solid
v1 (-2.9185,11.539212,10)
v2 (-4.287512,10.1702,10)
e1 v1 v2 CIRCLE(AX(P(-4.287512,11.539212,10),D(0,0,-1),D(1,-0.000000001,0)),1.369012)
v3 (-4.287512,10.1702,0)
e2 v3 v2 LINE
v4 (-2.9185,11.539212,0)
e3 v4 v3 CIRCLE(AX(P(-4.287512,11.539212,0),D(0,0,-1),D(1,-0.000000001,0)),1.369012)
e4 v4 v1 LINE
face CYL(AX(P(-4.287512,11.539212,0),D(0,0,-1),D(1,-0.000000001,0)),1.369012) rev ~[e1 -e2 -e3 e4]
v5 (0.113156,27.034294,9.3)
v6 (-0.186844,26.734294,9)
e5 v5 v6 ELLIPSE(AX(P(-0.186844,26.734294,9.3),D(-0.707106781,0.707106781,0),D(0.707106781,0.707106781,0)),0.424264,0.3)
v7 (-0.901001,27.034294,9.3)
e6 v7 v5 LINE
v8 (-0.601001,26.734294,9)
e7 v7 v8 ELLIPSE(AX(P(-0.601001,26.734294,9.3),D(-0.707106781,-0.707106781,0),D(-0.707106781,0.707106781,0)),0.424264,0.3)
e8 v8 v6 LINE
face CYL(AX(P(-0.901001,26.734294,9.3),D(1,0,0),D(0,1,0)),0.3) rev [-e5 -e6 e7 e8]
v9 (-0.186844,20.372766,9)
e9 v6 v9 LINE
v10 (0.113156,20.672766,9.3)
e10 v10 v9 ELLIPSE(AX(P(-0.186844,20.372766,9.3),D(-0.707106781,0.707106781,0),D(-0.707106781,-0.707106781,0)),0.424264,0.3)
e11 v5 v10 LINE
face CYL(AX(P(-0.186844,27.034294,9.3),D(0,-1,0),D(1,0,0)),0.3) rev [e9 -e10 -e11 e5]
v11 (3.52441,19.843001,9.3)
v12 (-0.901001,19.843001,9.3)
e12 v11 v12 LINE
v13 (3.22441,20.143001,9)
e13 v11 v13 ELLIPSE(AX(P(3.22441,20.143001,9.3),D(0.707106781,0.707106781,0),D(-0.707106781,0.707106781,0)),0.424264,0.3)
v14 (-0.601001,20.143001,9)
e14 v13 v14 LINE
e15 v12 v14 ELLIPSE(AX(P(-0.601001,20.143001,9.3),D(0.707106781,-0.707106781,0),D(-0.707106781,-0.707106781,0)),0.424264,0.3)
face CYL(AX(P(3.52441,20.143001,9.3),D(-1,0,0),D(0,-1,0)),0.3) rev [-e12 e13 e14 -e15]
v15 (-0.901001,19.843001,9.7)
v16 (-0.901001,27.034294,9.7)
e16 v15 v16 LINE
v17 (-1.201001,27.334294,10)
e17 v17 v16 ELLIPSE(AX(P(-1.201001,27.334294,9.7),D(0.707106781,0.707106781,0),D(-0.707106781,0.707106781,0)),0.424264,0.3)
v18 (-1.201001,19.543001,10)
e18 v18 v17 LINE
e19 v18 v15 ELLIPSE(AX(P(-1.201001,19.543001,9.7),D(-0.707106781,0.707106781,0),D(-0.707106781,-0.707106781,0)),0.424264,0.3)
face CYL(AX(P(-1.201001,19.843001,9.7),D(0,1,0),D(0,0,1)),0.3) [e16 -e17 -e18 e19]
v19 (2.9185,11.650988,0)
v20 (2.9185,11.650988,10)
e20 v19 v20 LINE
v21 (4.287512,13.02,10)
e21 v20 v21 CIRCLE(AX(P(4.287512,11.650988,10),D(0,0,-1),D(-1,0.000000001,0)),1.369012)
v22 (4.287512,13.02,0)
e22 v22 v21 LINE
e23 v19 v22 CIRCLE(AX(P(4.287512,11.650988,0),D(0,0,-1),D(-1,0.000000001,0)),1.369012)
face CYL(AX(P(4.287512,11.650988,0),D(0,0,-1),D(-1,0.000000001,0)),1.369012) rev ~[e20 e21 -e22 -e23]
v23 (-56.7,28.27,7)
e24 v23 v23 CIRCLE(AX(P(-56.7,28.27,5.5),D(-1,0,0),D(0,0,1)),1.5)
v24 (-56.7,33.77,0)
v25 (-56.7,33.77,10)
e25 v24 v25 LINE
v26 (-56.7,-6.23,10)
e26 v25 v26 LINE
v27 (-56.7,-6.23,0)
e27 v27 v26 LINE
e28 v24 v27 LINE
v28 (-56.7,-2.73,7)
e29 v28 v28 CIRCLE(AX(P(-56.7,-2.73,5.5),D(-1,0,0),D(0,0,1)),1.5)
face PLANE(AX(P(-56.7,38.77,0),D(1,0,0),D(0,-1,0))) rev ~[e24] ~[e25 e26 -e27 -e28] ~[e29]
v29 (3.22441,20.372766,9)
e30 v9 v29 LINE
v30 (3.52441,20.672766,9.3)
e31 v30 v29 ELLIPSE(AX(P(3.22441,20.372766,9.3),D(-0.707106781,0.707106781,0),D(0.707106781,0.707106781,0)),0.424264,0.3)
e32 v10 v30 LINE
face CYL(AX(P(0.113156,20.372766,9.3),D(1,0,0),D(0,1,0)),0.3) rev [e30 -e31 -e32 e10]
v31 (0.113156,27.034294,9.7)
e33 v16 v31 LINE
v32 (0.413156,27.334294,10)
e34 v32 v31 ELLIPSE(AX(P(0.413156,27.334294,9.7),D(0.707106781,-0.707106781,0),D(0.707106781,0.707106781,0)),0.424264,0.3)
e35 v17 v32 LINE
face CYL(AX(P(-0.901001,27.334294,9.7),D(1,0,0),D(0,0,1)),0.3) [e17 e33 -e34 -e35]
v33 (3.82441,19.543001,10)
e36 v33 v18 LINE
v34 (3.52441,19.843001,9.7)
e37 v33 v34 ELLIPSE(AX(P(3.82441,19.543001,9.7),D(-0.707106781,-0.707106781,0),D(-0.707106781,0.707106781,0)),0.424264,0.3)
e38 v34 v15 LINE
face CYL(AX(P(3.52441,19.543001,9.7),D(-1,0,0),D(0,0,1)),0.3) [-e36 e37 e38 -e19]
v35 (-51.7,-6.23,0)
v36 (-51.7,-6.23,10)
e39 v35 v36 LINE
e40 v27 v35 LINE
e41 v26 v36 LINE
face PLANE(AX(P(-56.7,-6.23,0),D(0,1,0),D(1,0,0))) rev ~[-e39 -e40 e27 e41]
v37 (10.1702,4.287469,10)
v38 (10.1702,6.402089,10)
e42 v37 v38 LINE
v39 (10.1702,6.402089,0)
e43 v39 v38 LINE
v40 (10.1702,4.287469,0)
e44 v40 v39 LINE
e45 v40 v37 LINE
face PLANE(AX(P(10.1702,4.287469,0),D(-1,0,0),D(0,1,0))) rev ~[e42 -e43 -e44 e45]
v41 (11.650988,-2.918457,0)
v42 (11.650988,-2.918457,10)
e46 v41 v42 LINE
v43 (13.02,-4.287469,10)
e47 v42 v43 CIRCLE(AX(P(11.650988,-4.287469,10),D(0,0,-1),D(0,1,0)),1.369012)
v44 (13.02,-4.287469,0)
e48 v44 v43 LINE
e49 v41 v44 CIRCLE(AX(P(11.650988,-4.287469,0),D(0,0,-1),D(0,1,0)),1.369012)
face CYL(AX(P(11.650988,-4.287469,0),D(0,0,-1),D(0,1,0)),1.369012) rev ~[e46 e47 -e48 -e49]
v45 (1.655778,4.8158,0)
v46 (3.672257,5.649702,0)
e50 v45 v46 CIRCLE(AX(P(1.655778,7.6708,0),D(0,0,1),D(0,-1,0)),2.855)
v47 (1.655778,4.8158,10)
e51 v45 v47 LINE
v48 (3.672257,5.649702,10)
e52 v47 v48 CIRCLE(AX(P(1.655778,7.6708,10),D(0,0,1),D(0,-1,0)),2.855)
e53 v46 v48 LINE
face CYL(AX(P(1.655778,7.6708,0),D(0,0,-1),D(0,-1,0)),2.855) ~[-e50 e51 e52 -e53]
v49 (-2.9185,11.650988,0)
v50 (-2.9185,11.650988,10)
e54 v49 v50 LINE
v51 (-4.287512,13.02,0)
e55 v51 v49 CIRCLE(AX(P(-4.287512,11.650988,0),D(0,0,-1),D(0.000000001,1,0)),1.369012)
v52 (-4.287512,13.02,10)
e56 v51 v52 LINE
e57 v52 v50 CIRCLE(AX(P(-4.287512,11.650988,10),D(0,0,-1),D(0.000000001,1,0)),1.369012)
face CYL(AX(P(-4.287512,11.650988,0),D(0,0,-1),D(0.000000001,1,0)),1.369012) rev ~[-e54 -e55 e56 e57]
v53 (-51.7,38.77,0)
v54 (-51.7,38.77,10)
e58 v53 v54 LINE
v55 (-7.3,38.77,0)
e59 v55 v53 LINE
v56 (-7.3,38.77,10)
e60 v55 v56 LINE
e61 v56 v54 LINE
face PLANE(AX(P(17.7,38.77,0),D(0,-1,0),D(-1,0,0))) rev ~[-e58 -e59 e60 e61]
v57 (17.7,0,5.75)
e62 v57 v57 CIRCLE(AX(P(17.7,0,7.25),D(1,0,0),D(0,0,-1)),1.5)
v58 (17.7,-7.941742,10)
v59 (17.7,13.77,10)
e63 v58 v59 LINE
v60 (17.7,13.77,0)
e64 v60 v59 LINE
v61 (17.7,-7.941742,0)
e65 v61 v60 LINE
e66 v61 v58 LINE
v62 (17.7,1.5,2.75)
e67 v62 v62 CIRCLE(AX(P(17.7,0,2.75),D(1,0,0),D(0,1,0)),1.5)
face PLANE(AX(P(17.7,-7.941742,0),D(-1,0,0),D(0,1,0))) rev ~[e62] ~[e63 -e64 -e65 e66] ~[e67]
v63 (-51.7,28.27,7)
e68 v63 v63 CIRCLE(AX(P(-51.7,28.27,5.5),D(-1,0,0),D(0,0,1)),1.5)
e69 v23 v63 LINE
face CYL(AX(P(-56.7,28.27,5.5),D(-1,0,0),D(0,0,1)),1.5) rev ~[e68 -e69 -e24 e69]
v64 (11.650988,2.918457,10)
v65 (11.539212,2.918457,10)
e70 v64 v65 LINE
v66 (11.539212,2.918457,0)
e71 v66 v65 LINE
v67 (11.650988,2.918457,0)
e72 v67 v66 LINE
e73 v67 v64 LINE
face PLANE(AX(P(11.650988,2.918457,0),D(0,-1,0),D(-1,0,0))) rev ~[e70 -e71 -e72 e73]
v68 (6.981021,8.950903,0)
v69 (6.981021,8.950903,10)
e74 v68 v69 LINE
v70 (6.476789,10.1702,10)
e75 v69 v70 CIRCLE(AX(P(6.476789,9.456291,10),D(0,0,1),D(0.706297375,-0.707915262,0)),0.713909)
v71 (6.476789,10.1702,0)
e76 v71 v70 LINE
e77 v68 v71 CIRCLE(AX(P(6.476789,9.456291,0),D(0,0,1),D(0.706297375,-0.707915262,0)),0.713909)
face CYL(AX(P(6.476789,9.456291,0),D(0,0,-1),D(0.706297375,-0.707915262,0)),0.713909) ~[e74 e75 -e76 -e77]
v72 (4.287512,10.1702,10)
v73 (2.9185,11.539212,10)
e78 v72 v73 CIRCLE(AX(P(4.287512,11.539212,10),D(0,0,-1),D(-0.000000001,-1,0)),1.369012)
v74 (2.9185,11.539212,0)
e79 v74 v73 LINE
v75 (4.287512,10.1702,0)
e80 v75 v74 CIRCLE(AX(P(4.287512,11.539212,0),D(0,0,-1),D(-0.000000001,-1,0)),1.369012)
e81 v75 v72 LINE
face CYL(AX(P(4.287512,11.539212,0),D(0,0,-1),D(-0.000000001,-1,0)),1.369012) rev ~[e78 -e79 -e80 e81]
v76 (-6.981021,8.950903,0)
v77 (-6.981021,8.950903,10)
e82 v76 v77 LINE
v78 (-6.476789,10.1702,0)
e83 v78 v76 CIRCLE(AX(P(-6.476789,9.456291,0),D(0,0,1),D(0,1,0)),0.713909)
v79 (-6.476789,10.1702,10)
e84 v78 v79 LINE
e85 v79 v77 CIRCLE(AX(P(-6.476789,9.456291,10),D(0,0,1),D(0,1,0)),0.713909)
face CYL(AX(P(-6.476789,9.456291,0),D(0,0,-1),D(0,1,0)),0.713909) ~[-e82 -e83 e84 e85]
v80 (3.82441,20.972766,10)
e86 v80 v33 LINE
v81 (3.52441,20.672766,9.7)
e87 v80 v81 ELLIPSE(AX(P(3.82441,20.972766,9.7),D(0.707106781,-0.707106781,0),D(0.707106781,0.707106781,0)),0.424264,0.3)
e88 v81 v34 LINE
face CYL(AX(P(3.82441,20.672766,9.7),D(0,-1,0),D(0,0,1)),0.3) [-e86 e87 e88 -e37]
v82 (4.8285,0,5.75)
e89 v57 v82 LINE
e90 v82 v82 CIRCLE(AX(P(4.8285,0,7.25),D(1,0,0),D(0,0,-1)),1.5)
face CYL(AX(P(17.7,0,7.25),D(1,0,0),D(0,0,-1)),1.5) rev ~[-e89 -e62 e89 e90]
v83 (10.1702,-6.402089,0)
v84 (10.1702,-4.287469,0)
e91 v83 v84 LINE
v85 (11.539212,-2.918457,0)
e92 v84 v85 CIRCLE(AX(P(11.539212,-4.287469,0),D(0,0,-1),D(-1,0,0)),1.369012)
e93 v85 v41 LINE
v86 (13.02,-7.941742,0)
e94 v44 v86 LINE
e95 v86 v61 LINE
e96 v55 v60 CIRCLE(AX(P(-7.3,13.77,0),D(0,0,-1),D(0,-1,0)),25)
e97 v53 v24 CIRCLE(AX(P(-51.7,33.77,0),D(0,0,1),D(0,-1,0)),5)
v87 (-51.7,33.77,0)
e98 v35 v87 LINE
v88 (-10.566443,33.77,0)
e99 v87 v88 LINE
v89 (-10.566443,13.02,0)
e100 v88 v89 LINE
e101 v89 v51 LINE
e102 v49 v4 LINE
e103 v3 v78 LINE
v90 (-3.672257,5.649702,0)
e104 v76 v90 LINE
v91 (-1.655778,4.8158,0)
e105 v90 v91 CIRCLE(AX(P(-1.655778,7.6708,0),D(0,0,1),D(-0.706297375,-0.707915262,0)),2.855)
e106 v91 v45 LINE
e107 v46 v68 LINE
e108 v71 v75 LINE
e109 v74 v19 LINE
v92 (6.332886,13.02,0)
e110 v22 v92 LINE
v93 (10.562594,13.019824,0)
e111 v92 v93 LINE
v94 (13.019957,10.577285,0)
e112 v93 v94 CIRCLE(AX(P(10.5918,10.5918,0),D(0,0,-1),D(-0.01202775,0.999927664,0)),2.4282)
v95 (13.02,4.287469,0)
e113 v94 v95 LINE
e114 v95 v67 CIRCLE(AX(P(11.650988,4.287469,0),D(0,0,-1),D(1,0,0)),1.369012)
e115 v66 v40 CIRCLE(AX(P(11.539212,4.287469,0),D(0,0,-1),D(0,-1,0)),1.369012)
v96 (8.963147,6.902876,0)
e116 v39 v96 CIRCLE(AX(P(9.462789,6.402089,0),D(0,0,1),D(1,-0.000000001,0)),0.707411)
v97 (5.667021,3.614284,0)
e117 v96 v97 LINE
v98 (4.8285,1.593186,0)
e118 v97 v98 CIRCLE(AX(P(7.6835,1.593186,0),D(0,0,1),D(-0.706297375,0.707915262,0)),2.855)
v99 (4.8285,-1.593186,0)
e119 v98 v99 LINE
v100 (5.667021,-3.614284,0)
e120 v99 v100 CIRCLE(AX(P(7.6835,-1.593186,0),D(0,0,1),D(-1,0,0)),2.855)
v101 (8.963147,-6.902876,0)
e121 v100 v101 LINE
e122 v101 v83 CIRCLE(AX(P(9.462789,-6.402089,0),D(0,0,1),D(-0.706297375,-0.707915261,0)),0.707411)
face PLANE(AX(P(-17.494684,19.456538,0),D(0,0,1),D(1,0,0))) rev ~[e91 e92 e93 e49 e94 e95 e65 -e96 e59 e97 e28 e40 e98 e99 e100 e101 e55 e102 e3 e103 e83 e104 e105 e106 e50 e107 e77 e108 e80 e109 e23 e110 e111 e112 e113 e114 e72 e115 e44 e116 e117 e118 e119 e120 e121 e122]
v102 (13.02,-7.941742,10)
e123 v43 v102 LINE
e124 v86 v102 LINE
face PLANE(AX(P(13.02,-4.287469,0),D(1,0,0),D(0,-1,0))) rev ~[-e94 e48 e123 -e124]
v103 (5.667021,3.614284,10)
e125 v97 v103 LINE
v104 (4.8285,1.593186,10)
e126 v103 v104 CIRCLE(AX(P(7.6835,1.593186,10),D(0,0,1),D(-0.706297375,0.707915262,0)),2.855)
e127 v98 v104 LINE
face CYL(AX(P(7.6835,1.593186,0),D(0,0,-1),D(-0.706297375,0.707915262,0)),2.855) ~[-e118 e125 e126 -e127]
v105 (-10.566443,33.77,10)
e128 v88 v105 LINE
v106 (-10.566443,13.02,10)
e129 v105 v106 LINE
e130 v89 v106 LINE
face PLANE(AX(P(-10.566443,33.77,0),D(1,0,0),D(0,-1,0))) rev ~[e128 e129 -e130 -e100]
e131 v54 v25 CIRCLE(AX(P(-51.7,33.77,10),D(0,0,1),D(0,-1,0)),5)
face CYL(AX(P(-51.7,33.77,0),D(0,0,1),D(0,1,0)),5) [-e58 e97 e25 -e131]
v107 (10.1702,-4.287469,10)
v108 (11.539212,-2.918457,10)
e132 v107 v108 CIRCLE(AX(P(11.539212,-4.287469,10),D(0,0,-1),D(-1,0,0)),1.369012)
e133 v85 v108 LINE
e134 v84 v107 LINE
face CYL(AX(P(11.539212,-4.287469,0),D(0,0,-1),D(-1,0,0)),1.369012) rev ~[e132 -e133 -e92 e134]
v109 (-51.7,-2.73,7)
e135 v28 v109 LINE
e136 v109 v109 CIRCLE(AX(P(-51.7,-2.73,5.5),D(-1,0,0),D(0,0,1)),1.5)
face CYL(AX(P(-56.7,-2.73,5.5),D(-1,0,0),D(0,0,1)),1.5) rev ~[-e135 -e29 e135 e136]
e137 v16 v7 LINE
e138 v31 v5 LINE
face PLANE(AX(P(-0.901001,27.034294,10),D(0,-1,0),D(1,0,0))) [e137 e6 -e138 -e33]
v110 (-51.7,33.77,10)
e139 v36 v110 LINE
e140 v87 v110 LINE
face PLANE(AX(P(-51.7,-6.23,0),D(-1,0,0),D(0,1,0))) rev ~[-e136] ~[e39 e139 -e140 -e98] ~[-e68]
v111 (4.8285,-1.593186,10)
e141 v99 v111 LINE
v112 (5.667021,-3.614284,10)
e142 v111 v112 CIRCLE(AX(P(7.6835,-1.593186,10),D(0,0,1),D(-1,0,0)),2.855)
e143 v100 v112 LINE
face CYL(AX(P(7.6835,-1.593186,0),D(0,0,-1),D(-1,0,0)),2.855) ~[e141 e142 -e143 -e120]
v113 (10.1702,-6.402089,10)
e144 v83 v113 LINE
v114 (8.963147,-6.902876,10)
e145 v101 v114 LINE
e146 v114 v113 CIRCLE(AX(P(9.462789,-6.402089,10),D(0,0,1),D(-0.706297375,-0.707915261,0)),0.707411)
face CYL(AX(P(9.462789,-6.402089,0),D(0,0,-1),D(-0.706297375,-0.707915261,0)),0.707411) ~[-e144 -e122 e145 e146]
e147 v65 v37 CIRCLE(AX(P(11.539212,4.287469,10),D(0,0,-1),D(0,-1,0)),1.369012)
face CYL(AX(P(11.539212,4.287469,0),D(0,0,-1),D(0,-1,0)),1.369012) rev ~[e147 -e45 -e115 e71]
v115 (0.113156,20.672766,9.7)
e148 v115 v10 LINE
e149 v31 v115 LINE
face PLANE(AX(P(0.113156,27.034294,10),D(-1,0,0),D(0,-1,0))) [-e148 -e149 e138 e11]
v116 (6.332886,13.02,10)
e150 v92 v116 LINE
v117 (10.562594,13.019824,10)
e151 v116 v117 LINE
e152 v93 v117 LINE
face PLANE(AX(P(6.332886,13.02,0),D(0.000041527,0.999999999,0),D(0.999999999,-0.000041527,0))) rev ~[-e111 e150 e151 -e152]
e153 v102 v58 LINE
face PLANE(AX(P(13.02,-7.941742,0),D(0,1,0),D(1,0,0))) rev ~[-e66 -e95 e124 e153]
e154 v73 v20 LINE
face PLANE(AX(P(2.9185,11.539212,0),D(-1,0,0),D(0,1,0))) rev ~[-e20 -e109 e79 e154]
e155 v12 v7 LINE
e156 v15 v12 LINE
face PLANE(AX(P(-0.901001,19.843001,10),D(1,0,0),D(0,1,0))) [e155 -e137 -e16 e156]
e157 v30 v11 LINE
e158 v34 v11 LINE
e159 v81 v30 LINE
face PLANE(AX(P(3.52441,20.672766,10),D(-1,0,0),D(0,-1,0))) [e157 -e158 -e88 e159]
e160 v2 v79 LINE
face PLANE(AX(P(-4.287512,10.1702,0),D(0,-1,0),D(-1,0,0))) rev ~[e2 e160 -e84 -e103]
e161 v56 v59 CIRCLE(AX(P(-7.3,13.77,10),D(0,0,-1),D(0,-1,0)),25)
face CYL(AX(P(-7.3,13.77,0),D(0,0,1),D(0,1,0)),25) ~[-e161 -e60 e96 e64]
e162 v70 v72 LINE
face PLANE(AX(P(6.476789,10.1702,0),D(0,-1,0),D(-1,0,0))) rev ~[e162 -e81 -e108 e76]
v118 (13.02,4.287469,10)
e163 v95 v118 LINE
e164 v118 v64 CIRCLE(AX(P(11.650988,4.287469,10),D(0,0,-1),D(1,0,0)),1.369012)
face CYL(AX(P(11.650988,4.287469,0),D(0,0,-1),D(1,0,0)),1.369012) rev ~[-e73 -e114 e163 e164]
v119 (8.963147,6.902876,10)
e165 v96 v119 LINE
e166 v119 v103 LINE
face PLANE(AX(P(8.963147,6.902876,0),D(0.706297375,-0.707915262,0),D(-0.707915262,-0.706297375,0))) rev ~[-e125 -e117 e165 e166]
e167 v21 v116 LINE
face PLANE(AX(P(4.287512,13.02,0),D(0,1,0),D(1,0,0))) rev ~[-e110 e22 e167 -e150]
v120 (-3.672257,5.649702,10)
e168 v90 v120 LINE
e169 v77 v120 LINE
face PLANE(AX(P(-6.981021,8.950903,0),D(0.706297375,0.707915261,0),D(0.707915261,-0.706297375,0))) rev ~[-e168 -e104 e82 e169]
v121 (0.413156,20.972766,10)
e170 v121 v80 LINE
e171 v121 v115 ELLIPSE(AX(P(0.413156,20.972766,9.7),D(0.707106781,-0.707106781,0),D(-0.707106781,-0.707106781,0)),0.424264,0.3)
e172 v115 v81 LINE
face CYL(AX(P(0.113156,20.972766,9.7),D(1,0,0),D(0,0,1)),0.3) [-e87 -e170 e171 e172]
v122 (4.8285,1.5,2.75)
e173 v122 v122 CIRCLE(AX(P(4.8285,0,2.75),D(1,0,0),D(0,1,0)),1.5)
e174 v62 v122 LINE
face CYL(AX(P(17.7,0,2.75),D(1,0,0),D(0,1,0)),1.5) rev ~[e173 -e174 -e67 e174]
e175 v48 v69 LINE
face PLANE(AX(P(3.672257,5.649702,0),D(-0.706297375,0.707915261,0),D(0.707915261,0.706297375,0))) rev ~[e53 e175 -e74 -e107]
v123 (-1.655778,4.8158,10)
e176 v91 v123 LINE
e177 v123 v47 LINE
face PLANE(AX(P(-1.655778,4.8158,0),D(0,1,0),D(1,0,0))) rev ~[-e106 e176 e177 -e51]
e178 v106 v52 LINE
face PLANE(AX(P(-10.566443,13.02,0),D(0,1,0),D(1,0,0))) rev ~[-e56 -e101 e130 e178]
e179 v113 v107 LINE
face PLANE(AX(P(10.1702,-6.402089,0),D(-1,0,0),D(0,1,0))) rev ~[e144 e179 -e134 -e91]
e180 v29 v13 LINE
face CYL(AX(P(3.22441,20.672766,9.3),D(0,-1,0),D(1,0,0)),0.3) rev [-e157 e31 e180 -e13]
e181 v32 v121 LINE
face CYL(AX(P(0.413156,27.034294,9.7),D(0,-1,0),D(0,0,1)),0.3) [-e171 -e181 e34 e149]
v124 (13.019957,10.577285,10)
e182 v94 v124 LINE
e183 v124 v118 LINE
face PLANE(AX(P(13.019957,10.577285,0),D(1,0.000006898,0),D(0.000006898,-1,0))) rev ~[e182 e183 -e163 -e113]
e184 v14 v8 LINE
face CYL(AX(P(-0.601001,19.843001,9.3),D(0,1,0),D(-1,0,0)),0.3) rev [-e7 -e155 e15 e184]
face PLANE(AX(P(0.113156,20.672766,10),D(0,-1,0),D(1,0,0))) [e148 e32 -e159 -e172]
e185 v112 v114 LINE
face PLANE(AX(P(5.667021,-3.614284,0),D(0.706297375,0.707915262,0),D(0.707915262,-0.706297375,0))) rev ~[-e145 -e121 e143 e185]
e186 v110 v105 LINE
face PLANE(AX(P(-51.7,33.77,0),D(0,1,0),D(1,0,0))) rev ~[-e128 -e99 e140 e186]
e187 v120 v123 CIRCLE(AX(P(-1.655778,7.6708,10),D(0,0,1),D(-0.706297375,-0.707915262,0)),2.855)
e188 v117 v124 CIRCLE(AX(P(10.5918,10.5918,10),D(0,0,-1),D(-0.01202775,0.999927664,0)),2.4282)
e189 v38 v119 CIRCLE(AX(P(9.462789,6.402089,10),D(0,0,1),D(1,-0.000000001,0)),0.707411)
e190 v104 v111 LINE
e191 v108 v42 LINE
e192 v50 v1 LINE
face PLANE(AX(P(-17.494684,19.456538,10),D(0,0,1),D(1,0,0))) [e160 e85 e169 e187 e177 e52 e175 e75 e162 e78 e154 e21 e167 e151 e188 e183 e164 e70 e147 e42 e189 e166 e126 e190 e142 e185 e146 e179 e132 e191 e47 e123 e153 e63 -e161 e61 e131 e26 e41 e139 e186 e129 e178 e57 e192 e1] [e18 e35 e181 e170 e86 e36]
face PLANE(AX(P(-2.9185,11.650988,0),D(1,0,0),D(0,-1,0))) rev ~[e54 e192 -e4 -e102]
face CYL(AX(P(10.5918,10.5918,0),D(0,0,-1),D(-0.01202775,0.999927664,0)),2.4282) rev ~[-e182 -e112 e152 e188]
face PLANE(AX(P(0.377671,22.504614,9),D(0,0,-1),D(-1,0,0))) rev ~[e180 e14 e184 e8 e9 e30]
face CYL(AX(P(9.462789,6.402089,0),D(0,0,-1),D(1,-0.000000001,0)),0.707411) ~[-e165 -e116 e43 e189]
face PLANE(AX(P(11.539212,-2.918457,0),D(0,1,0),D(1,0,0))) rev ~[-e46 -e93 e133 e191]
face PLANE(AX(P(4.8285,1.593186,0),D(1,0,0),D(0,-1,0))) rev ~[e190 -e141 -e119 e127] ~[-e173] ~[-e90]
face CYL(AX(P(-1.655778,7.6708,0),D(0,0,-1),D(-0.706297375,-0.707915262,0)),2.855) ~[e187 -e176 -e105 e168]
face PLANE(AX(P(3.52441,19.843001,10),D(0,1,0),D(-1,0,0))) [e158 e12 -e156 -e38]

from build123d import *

# Parameters (mm, degrees)
BOSS_EXTRUDE1_DEPTH = 10
CUT_EXTRUDE1_REACH  = 86.489
SKETCH2_R           = 1.5
FILLET3_R           = 5
CUT_EXTRUDE2_REACH  = 86.489
SKETCH3_R           = 1.5
FILLET4_R           = 25
CUT_EXTRUDE7_DEPTH  = 1
FILLET8_R           = 0.3


with BuildPart() as part:
    # Sketch1 → Boss-Extrude1 (new body)
    with BuildSketch(Plane.XY):
        with BuildLine():
            Line((13.02, -7.9417418), (17.7, -7.9417418))
            Line((17.7, -7.9417418), (17.7, 38.77))
            Line((17.7, 38.77), (-56.7, 38.77))
            Line((-56.7, 38.77), (-56.7, -6.23))
            Line((-56.7, -6.23), (-51.7, -6.23))
            Line((-51.7, -6.23), (-51.7, 33.77))
            Line((-51.7, 33.77), (-10.566443095, 33.77))
            Line((-10.566443095, 33.77), (-10.566443095, 13.02))
            Line((-10.566443095, 13.02), (-5.317126718, 13.02))
            Line((-5.317126718, 13.02), (-4.287512407, 13.02))
            ThreePointArc((-4.287512407, 13.02), (-3.319474451, 12.619025549), (-2.9185, 11.650987593))
            Line((-2.9185, 11.650987593), (-2.9185, 11.539212407))
            ThreePointArc((-2.9185, 11.539212407), (-3.319474451, 10.571174451), (-4.287512407, 10.1702))
            Line((-4.287512407, 10.1702), (-6.476788598, 10.1702))
            ThreePointArc((-6.476788598, 10.1702), (-7.136510935, 9.729114651), (-6.981020848, 8.950903446))
            Line((-6.981020848, 8.950903446), (-3.672257405, 5.649701928))
            ThreePointArc((-3.672257405, 5.649701928), (-2.746830644, 5.032499411), (-1.655778399, 4.8158))
            Line((-1.655778399, 4.8158), (1.655778399, 4.8158))
            ThreePointArc((1.655778399, 4.8158), (2.746830644, 5.032499411), (3.672257405, 5.649701928))
            Line((3.672257405, 5.649701928), (6.981020848, 8.950903446))
            ThreePointArc((6.981020848, 8.950903446), (7.136510935, 9.729114651), (6.476788598, 10.1702))
            Line((6.476788598, 10.1702), (4.287512407, 10.1702))
            ThreePointArc((4.287512407, 10.1702), (3.319474451, 10.571174451), (2.9185, 11.539212407))
            Line((2.9185, 11.539212407), (2.9185, 11.650987593))
            ThreePointArc((2.9185, 11.650987593), (3.319474451, 12.619025549), (4.287512407, 13.02))
            Line((4.287512407, 13.02), (6.332886163, 13.02))
            Line((6.332886163, 13.02), (10.562594215, 13.019824354))
            ThreePointArc((10.562594215, 13.019824354), (12.303594776, 12.313982883), (13.019956614, 10.577284622))
            Line((13.019956614, 10.577284622), (13.02, 4.287469289))
            ThreePointArc((13.02, 4.287469289), (12.619025549, 3.319431332), (11.650987593, 2.918456882))
            Line((11.650987593, 2.918456882), (11.539212407, 2.918456882))
            ThreePointArc((11.539212407, 2.918456882), (10.571174451, 3.319431332), (10.1702, 4.287469289))
            Line((10.1702, 4.287469289), (10.1702, 6.402089023))
            ThreePointArc((10.1702, 6.402089023), (9.733877283, 7.055496588), (8.963146507, 6.90287605))
            Line((8.963146507, 6.90287605), (5.667020993, 3.614283579))
            ThreePointArc((5.667020993, 3.614283579), (5.046449321, 2.687255303), (4.8285, 1.593185507))
            Line((4.8285, 1.593185507), (4.8285, -1.593185507))
            ThreePointArc((4.8285, -1.593185507), (5.046449321, -2.687255303), (5.667020993, -3.614283579))
            Line((5.667020993, -3.614283579), (8.963146507, -6.90287605))
            ThreePointArc((8.963146507, -6.90287605), (9.733877283, -7.055496588), (10.1702, -6.402089023))
            Line((10.1702, -6.402089023), (10.1702, -4.287469289))
            ThreePointArc((10.1702, -4.287469289), (10.571174451, -3.319431332), (11.539212407, -2.918456882))
            Line((11.539212407, -2.918456882), (11.650987593, -2.918456882))
            ThreePointArc((11.650987593, -2.918456882), (12.619025549, -3.319431332), (13.02, -4.287469289))
            Line((13.02, -4.287469289), (13.02, -5.3170836))
            Line((13.02, -5.3170836), (13.02, -7.9417418))
        make_face()
    extrude(amount=BOSS_EXTRUDE1_DEPTH)

    # Sketch2 → Cut-Extrude1 (cut, up to next)
    with BuildSketch(Plane.ZY.offset(56.7), mode=Mode.PRIVATE) as cut_extrude1_sk1:
        with Locations((5.5, -2.73)):
            Circle(SKETCH2_R)
    cut_extrude1_tool1 = extrude(cut_extrude1_sk1.sketch, amount=-CUT_EXTRUDE1_REACH, mode=Mode.PRIVATE) & part.part
    # Sketch2 → Cut-Extrude1 (cut, up to next)
    with BuildSketch(Plane.ZY.offset(56.7), mode=Mode.PRIVATE) as cut_extrude1_sk2:
        with Locations((5.5, 28.27)):
            Circle(SKETCH2_R)
    cut_extrude1_tool2 = extrude(cut_extrude1_sk2.sketch, amount=-CUT_EXTRUDE1_REACH, mode=Mode.PRIVATE) & part.part
    add(cut_extrude1_tool1.solids().sort_by_distance((-56.7, -2.73, 5.5))[0], mode=Mode.SUBTRACT)
    add(cut_extrude1_tool2.solids().sort_by_distance((-56.7, 28.27, 5.5))[0], mode=Mode.SUBTRACT)

    # Fillet3
    fillet3_edges = [part.edges().sort_by_distance(p)[0] for p in [
        (-56.7, 38.77, 5),
    ]]
    fillet(fillet3_edges, radius=FILLET3_R)

    # Sketch3 → Cut-Extrude2 (cut, up to next)
    with BuildSketch(Plane(origin=(17.7, 0, 0), x_dir=(0, 0, -1), z_dir=(1, 0, 0)), mode=Mode.PRIVATE) as cut_extrude2_sk1:
        with Locations((-7.25, 0)):
            Circle(SKETCH3_R)
    cut_extrude2_tool1 = extrude(cut_extrude2_sk1.sketch, amount=-CUT_EXTRUDE2_REACH, mode=Mode.PRIVATE) & part.part
    # Sketch3 → Cut-Extrude2 (cut, up to next)
    with BuildSketch(Plane(origin=(17.7, 0, 0), x_dir=(0, 0, -1), z_dir=(1, 0, 0)), mode=Mode.PRIVATE) as cut_extrude2_sk2:
        with Locations(Location((-2.75, 0, 0), (0, 0, 90))):
            Circle(SKETCH3_R)
    cut_extrude2_tool2 = extrude(cut_extrude2_sk2.sketch, amount=-CUT_EXTRUDE2_REACH, mode=Mode.PRIVATE) & part.part
    add(cut_extrude2_tool1.solids().sort_by_distance((17.7, 0, 7.25))[0], mode=Mode.SUBTRACT)
    add(cut_extrude2_tool2.solids().sort_by_distance((17.7, 0, 2.75))[0], mode=Mode.SUBTRACT)

    # Fillet4
    fillet4_edges = [part.edges().sort_by_distance(p)[0] for p in [
        (17.7, 38.77, 5),
    ]]
    fillet(fillet4_edges, radius=FILLET4_R)

    # Sketch7 → Cut-Extrude7 (cut)
    with BuildSketch(Plane.XY.offset(10)):
        Polygon((-0.90100078, 19.84300121), (-0.90100078, 27.034293528), (0.113155829, 27.034293528), (0.113155829, 20.672765708), (3.524409877, 20.672765708), (3.524409877, 19.84300121), align=None)
    extrude(amount=-CUT_EXTRUDE7_DEPTH, mode=Mode.SUBTRACT)

    # Fillet8
    fillet8_edges = [part.edges().sort_by_distance(p)[0] for p in [
        (1.311704549, 19.84300121, 10),
        (-0.90100078, 23.438647369, 10),
        (-0.393922475, 27.034293528, 10),
        (0.113155829, 23.853529618, 10),
        (1.818782853, 20.672765708, 10),
        (3.524409877, 20.257883459, 10),
        (1.311704549, 19.84300121, 9),
        (-0.90100078, 23.438647369, 9),
        (-0.393922475, 27.034293528, 9),
        (0.113155829, 23.853529618, 9),
        (1.818782853, 20.672765708, 9),
        (3.524409877, 20.257883459, 9),
    ]]
    fillet(fillet8_edges, radius=FILLET8_R)


solid = part.part
